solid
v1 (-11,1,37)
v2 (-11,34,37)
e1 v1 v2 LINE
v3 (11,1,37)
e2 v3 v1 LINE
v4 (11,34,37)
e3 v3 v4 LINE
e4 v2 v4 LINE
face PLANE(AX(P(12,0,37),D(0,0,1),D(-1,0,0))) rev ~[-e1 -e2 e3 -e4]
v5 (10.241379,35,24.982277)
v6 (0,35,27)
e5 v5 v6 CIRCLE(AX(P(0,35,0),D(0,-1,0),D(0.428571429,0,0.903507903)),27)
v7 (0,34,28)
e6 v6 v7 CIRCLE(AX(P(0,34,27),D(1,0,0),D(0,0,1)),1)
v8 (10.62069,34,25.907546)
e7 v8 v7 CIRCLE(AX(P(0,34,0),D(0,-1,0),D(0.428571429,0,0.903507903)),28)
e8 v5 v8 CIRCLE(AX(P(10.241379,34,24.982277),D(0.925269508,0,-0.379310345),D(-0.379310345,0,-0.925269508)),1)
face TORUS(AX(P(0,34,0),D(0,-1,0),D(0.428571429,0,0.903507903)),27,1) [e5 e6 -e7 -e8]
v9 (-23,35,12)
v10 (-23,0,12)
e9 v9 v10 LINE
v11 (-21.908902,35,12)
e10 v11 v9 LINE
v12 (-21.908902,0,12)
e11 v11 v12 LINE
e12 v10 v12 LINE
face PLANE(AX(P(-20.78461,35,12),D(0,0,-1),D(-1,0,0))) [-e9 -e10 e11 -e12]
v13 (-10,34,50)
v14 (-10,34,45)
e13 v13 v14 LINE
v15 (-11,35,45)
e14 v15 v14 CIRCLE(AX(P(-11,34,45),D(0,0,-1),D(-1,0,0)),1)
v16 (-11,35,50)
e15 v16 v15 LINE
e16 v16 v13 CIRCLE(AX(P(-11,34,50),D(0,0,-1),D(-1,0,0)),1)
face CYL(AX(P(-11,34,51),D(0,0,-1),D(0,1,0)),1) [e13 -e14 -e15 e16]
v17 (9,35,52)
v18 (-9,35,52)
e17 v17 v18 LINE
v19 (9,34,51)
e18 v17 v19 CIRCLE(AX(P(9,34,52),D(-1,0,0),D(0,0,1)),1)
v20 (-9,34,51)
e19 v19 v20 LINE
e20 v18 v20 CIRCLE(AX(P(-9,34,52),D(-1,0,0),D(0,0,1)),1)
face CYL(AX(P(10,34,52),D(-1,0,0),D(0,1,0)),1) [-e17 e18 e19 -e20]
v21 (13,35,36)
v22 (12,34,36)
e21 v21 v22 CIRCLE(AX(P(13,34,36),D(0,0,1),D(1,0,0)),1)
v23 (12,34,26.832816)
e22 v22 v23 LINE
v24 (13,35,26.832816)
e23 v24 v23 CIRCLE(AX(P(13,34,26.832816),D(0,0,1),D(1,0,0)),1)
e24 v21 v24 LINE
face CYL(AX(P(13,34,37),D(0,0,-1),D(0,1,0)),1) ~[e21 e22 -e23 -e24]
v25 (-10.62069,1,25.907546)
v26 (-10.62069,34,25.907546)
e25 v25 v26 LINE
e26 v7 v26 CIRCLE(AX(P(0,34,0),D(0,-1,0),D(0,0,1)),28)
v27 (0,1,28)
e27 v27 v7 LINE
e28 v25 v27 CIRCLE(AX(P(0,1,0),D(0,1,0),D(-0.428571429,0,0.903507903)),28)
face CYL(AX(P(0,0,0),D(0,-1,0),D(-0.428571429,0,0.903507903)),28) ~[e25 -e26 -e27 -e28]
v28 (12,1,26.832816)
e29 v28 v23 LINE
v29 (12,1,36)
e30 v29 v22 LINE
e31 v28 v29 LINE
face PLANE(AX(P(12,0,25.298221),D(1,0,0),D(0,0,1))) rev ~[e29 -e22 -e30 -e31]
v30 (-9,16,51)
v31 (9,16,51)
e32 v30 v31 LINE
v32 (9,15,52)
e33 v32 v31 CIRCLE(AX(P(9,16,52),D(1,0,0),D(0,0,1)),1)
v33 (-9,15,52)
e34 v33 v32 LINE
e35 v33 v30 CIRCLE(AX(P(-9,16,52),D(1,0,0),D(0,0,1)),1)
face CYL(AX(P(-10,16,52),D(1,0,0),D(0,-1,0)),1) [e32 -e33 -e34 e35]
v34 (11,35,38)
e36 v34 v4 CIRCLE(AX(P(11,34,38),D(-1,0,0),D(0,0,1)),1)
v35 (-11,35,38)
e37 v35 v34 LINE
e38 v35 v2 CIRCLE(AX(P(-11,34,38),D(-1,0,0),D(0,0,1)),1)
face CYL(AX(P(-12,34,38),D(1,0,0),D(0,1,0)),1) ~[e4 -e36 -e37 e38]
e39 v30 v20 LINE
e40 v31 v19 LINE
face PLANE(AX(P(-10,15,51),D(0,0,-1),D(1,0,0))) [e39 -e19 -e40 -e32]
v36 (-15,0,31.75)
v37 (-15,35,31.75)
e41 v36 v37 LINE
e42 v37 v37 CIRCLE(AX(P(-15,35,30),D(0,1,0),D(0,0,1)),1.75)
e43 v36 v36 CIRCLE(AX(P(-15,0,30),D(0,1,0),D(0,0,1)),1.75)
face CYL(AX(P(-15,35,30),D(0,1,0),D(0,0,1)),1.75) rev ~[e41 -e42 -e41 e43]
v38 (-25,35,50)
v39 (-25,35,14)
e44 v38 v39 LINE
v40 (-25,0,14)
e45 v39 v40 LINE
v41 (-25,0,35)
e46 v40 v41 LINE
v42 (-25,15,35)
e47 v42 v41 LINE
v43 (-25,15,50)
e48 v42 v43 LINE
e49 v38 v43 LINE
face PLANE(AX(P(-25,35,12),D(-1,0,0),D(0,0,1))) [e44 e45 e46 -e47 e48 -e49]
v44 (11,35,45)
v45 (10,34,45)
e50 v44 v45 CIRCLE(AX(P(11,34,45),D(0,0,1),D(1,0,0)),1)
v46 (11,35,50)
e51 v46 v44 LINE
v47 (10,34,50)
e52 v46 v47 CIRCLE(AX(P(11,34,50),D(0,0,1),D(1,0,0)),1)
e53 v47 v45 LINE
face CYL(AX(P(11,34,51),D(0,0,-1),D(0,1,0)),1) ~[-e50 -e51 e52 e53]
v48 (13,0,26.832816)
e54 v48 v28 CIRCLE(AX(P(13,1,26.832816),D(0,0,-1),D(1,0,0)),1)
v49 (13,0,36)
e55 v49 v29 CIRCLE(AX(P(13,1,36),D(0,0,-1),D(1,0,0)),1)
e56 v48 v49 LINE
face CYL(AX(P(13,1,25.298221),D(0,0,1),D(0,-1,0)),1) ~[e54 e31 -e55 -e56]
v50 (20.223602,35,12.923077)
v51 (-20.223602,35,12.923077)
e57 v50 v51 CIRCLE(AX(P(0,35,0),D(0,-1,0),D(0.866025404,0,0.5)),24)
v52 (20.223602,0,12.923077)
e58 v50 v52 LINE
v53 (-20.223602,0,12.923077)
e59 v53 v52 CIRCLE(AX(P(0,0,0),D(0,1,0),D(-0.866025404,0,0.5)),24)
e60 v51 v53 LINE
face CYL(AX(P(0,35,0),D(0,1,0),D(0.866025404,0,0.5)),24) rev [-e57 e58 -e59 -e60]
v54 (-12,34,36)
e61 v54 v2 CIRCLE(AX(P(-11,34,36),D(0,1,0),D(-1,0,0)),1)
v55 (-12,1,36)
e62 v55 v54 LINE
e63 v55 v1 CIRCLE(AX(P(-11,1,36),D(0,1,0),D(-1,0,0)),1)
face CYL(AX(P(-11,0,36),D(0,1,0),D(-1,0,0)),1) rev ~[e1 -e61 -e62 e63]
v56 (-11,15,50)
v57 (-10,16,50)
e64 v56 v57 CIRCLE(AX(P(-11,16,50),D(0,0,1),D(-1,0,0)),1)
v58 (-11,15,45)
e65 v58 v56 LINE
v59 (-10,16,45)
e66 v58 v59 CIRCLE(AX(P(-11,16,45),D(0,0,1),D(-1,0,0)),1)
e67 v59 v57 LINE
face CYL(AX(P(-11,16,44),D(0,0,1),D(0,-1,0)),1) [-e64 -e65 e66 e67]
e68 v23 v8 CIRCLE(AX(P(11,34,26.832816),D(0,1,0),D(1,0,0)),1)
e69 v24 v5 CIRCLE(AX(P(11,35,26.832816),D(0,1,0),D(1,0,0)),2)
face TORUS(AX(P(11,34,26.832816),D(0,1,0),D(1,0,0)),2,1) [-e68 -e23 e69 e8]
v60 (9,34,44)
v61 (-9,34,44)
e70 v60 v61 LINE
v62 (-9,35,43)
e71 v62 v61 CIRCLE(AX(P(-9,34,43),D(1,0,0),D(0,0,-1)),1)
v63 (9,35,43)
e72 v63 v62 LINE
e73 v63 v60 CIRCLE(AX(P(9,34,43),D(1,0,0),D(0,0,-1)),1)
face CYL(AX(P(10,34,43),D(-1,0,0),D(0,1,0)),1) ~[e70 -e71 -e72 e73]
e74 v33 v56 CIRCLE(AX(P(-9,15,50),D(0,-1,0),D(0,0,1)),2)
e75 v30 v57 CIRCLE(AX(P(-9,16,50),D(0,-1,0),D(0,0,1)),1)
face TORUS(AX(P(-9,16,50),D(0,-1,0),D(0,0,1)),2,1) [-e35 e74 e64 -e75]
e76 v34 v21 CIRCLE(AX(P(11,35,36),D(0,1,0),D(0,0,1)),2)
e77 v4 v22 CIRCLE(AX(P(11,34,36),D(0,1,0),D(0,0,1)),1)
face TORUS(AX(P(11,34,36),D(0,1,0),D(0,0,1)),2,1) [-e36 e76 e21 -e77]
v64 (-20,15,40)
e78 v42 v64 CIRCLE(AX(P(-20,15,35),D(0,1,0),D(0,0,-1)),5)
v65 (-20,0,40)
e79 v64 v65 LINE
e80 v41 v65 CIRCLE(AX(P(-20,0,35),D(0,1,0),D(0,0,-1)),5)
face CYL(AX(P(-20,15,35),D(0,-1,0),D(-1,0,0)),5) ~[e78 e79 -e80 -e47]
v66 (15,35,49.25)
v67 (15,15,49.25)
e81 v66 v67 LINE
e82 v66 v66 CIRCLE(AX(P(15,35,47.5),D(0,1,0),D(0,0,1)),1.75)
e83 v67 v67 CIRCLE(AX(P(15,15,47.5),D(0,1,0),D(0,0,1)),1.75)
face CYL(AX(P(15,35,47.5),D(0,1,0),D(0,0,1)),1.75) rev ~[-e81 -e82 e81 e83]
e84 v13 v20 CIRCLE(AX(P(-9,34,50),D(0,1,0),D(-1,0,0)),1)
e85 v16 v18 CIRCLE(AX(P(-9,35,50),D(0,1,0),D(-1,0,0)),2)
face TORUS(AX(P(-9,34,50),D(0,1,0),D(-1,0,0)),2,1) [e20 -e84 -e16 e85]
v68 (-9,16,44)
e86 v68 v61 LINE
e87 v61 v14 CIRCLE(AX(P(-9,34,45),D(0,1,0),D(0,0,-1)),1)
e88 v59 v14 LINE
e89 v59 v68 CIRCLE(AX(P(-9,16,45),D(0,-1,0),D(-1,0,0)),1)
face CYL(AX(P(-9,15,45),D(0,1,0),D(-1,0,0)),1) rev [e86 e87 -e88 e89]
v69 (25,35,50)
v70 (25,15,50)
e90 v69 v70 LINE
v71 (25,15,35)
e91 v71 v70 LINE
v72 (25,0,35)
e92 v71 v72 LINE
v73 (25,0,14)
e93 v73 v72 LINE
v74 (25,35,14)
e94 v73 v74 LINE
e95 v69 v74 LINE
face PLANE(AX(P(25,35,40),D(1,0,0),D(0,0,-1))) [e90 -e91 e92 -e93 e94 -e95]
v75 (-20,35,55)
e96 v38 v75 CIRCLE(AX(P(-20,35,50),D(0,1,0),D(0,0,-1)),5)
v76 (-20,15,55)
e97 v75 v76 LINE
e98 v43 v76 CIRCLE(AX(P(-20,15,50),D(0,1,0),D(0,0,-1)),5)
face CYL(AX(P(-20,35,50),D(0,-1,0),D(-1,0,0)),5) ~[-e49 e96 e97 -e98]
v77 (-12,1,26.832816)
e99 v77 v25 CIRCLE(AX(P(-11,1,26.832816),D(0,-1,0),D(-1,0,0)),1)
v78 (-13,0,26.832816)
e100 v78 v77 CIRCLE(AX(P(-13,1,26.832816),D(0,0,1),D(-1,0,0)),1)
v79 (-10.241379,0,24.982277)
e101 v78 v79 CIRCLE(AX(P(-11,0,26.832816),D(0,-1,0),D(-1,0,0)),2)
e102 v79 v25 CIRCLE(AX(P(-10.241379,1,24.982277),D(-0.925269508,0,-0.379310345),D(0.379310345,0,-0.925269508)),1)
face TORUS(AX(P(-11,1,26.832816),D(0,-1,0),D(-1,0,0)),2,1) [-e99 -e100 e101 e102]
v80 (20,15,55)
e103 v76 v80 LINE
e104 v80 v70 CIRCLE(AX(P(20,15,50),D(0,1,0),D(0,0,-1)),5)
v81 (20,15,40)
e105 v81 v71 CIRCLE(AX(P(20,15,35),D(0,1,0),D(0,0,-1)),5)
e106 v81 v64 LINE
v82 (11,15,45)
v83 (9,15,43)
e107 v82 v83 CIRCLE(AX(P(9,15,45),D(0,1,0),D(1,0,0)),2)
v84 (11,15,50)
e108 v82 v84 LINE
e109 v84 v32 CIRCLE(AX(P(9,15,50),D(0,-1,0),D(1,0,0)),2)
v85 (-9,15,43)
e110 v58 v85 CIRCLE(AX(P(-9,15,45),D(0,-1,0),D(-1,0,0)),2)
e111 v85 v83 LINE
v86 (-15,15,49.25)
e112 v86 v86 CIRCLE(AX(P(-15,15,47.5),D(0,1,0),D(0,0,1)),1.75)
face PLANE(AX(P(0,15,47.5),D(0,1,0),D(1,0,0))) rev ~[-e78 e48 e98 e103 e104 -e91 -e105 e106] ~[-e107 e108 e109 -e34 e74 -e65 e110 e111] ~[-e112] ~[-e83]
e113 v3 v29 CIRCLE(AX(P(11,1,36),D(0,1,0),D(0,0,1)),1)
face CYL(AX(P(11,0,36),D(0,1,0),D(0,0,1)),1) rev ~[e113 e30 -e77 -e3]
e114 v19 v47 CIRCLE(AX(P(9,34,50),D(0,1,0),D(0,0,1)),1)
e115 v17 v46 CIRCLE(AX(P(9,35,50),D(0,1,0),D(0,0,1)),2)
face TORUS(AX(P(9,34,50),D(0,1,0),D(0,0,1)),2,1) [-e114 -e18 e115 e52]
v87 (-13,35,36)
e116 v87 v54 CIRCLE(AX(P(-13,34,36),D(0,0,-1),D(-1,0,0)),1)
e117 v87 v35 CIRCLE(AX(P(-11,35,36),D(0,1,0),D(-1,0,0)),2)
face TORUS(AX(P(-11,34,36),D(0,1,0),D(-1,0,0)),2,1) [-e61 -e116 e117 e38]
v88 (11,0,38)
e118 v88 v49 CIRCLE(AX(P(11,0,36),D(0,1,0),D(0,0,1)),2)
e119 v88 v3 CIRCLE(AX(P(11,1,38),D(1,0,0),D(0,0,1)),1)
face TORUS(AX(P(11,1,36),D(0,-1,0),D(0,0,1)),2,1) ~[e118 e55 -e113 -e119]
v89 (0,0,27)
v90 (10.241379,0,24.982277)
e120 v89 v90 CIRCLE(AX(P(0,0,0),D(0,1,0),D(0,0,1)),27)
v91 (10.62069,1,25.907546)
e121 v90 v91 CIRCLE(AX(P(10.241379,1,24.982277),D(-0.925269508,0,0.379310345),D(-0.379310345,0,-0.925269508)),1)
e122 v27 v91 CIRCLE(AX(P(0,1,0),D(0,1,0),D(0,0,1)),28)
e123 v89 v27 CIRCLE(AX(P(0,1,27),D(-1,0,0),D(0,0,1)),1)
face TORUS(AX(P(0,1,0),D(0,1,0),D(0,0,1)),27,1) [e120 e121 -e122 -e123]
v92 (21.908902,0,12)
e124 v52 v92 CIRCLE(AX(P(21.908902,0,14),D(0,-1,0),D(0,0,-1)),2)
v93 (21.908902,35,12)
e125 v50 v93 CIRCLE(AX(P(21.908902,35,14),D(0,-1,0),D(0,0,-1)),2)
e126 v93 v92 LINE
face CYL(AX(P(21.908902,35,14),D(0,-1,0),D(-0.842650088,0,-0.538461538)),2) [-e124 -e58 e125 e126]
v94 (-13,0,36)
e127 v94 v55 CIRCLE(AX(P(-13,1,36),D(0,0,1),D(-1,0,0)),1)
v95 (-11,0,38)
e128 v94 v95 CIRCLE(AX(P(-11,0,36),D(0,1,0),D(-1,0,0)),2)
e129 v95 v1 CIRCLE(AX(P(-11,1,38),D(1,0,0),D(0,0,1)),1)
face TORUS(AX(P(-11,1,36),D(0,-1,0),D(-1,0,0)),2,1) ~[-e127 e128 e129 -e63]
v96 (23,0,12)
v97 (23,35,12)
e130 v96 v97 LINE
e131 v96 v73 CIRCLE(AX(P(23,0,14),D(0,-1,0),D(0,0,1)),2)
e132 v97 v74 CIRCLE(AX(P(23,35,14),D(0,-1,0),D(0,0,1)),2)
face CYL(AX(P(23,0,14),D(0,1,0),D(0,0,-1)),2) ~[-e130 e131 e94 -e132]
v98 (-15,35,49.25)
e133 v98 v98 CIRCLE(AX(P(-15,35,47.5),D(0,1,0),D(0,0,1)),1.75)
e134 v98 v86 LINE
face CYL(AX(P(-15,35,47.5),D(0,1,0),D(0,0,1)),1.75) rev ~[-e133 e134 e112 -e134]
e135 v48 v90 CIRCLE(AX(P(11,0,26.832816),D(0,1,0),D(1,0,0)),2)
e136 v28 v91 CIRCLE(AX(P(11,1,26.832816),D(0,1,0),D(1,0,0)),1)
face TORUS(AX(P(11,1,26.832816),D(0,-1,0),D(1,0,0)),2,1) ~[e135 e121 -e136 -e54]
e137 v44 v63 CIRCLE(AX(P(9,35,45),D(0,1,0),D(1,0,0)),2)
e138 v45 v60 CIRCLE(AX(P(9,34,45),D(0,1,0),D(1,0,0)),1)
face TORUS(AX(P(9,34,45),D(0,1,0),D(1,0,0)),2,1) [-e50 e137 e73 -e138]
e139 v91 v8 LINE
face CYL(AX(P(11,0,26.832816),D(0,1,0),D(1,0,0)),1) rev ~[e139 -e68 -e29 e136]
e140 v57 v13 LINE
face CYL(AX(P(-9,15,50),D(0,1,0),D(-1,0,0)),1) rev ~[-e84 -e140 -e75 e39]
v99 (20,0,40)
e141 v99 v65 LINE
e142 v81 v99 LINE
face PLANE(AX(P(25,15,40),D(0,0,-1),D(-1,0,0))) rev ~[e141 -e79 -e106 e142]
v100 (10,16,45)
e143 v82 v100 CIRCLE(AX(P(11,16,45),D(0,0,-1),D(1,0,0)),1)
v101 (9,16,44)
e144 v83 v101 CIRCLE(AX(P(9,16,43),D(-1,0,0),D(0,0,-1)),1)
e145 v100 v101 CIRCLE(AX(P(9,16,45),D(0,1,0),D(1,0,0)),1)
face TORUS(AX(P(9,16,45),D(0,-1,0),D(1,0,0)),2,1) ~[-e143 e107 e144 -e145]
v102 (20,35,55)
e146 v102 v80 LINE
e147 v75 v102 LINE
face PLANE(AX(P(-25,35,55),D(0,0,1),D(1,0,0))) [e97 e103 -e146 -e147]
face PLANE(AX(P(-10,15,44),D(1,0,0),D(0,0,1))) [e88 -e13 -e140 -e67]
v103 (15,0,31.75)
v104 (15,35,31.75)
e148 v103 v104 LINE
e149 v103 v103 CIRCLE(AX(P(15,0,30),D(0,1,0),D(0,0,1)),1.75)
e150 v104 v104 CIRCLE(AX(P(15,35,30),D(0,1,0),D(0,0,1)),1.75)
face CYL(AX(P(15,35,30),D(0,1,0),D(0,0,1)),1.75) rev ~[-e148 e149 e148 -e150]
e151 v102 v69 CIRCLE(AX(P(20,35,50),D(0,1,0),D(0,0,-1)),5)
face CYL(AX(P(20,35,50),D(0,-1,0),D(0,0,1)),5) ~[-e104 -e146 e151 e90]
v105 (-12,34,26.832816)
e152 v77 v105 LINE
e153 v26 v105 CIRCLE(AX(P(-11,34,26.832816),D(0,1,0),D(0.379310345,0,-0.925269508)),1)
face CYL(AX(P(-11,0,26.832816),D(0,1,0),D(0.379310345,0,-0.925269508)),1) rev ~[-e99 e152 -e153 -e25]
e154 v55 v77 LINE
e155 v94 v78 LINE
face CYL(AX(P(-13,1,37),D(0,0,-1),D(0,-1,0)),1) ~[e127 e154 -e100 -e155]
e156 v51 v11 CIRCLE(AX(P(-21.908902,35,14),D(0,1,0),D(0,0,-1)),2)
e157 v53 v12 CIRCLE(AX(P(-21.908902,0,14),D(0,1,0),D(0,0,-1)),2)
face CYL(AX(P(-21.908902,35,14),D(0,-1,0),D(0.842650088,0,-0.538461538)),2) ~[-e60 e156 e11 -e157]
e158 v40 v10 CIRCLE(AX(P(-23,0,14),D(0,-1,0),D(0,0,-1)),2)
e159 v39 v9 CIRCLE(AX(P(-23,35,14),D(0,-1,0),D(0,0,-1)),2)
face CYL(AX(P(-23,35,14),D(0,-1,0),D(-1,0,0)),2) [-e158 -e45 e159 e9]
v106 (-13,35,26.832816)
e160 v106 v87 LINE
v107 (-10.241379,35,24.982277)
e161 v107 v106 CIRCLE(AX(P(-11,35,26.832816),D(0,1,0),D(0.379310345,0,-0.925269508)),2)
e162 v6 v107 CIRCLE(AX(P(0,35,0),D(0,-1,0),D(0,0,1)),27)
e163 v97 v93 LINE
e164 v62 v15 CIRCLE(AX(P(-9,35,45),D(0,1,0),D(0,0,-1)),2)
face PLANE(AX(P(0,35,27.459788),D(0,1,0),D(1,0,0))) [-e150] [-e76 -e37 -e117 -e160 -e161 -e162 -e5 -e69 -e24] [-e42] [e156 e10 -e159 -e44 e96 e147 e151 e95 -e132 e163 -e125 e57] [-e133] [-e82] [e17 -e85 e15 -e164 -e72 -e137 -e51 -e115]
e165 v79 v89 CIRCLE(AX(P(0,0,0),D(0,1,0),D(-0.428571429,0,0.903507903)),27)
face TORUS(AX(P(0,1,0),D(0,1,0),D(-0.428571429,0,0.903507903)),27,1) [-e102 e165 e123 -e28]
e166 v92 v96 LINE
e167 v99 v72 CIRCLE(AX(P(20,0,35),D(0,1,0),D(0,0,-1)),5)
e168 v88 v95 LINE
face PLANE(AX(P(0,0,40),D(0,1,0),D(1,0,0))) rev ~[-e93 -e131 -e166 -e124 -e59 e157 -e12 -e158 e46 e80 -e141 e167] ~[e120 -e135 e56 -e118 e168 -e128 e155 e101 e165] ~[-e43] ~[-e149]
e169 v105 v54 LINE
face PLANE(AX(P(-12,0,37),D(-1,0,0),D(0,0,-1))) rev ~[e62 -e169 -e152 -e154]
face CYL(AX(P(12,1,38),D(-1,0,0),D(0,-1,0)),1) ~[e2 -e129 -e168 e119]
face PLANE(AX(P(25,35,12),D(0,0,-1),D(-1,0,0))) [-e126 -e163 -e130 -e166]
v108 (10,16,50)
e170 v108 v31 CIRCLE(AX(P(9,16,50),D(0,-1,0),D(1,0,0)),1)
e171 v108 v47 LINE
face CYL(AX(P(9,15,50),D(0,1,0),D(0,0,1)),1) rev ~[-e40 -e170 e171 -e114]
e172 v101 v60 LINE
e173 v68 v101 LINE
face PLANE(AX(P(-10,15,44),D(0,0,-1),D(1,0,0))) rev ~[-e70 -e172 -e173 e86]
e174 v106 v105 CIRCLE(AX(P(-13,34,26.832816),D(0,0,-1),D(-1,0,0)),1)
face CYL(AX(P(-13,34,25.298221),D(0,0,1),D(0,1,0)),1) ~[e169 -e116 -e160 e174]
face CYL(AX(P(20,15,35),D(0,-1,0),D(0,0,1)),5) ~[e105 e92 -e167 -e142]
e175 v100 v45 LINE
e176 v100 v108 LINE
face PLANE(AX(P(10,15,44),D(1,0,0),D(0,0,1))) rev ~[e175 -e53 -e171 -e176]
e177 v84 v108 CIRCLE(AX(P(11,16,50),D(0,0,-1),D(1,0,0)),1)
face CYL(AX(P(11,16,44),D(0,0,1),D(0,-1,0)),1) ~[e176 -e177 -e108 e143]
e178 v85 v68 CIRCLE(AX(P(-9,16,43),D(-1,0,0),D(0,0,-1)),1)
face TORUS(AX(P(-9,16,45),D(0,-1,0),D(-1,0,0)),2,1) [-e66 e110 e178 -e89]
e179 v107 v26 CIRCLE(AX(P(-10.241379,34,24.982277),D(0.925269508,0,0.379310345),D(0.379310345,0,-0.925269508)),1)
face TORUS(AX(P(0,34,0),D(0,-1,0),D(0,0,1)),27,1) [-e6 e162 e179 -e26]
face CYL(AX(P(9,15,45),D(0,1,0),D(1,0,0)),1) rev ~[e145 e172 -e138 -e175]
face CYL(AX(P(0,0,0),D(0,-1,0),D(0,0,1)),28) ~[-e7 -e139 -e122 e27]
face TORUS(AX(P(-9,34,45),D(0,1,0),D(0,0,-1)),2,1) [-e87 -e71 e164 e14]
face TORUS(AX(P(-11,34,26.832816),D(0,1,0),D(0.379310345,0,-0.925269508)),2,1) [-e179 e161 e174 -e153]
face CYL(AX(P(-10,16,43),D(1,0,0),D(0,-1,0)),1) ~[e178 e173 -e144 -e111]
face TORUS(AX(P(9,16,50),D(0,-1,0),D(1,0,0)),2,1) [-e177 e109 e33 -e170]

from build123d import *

# Parameters (mm, degrees)
SKETCH_1_W          = 50
SKETCH_1_H          = 50
SKETCH_1_R          = 21.05
EXTRUDE_1_DEPTH     = 15
SKETCH_2_W          = 50
SKETCH_2_H          = 30
SKETCH_2_R          = 1.6
EXTRUDE_2_DEPTH     = 15
FILLET_1_R          = 3
SKETCH_3_R          = 1.75
CUT_EXTRUDE_1_DEPTH = 63.24949799
SKETCH_4_R          = 1.6
CUT_EXTRUDE_2_DEPTH = 63.24949799
EXTRUDE_START       = 20
SKETCH_5_R          = 1.75
SKETCH_5_W          = 50
SKETCH_5_H          = 15
EXTRUDE_3_DEPTH     = 20
FILLET_2_R          = 2
FILLET_3_R          = 5
SKETCH_6_W          = 20
SKETCH_6_H          = 7
CUT_EXTRUDE_3_DEPTH = 64.639610307
CUT_EXTRUDE_4_DEPTH = 70.821200219
FILLET_4_R          = 1


with BuildPart() as part:
    # 草图1 → 凸台-拉伸1 (new body)
    with BuildSketch(Plane(origin=(0, 0, 0), x_dir=(1, 0, 0), z_dir=(0, 1, 0))):
        Rectangle(SKETCH_1_W, SKETCH_1_H)
        with Locations(Location((0, 0, 0), (0, 0, 270))):
            Circle(SKETCH_1_R, mode=Mode.SUBTRACT)
    extrude(amount=EXTRUDE_1_DEPTH)

    # 草图2 → 凸台-拉伸2 (add)
    with BuildSketch(Plane(origin=(0, 15, 0), x_dir=(1, 0, 0), z_dir=(0, 1, 0))):
        with Locations((0, -40)):
            Rectangle(SKETCH_2_W, SKETCH_2_H)
        with Locations(Location((-15, -47.5, 0), (0, 0, 270))):
            Circle(SKETCH_2_R, mode=Mode.SUBTRACT)
        with Locations(Location((15, -47.5, 0), (0, 0, 270))):
            Circle(SKETCH_2_R, mode=Mode.SUBTRACT)
    extrude(amount=-EXTRUDE_2_DEPTH)

    # 圆角1
    fillet_1_edges = [part.edges().sort_by_distance(p)[0] for p in [
        (25, 7.5, 55),
        (-25, 7.5, 55),
        (-25, 7.5, -25),
        (25, 7.5, -25),
    ]]
    fillet(fillet_1_edges, radius=FILLET_1_R)

    # 草图3 → 切除-拉伸1 (cut, through all)
    with BuildSketch(Plane(origin=(0, 15, 0), x_dir=(1, 0, 0), z_dir=(0, 1, 0))):
        with Locations(Location((-15, -30, 0), (0, 0, 270))):
            Circle(SKETCH_3_R)
        with Locations(Location((15, -30, 0), (0, 0, 270))):
            Circle(SKETCH_3_R)
    extrude(amount=-CUT_EXTRUDE_1_DEPTH, mode=Mode.SUBTRACT)

    # 草图4 → 切除-拉伸2 (cut, through all)
    # profile 1 of 6: a face of its own
    with BuildSketch(Plane(origin=(0, 15, 0), x_dir=(1, 0, 0), z_dir=(0, 1, 0))):
        with BuildLine():
            Line((25, -40), (-25, -40))
            Line((-25, -40), (-25, -52))
            ThreePointArc((-25, -52), (-24.121320344, -54.121320344), (-22, -55))
            Line((-22, -55), (22, -55))
            ThreePointArc((22, -55), (24.121320344, -54.121320344), (25, -52))
            Line((25, -52), (25, -40))
        make_face()
        with Locations((-15, -47.5)):
            Circle(SKETCH_4_R, mode=Mode.SUBTRACT)
        with Locations((15, -47.5)):
            Circle(SKETCH_4_R, mode=Mode.SUBTRACT)
    # profile 2 of 6: a face of its own
    with BuildSketch(Plane(origin=(0, 15, 0), x_dir=(1, 0, 0), z_dir=(0, 1, 0))):
        with BuildLine():
            Line((-25, 22), (-25, -12))
            Line((-25, -12), (-20.784609691, -12))
            ThreePointArc((-20.784609691, -12), (-6.211657082, 23.182219831), (24, 0))
            ThreePointArc((24, 0), (23.182219831, -6.211657082), (20.784609691, -12))
            Line((20.784609691, -12), (25, -12))
            Line((25, -12), (25, 22))
            ThreePointArc((25, 22), (24.121320344, 24.121320344), (22, 25))
            Line((22, 25), (-22, 25))
            ThreePointArc((-22, 25), (-24.121320344, 24.121320344), (-25, 22))
        make_face()
    # profile 3 of 6: a face of its own
    with BuildSketch(Plane(origin=(0, 15, 0), x_dir=(1, 0, 0), z_dir=(0, 1, 0))):
        with BuildLine():
            ThreePointArc((24, 0), (-6.211657082, 23.182219831), (-20.784609691, -12))
            Line((-20.784609691, -12), (-17.294580076, -12))
            ThreePointArc((-17.294580076, -12), (-6.286954326, 20.089218633), (21.05, 0))
            ThreePointArc((21.05, 0), (20.089218633, -6.286954326), (17.294580076, -12))
            Line((17.294580076, -12), (20.784609691, -12))
            ThreePointArc((20.784609691, -12), (23.182219831, -6.211657082), (24, 0))
        make_face()
    # profile 4 of 6: a face of its own
    with BuildSketch(Plane(origin=(0, 15, 0), x_dir=(1, 0, 0), z_dir=(0, 1, 0))):
        with BuildLine():
            Line((-17.294580076, -12), (-20.784609691, -12))
            ThreePointArc((-20.784609691, -12), (0, -24), (20.784609691, -12))
            Line((20.784609691, -12), (17.294580076, -12))
            ThreePointArc((17.294580076, -12), (0, -21.05), (-17.294580076, -12))
        make_face()
    # profile 5 of 6: a face of its own
    with BuildSketch(Plane(origin=(0, 15, 0), x_dir=(1, 0, 0), z_dir=(0, 1, 0))):
        with BuildLine():
            ThreePointArc((24, 0), (-6.211657082, 23.182219831), (-20.784609691, -12))
            Line((-20.784609691, -12), (-17.294580076, -12))
            ThreePointArc((-17.294580076, -12), (-6.286954326, 20.089218633), (21.05, 0))
            ThreePointArc((21.05, 0), (20.089218633, -6.286954326), (17.294580076, -12))
            Line((17.294580076, -12), (20.784609691, -12))
            ThreePointArc((20.784609691, -12), (23.182219831, -6.211657082), (24, 0))
        make_face()
    # profile 6 of 6: a face of its own
    with BuildSketch(Plane(origin=(0, 15, 0), x_dir=(1, 0, 0), z_dir=(0, 1, 0))):
        with BuildLine():
            Line((-17.294580076, -12), (-20.784609691, -12))
            ThreePointArc((-20.784609691, -12), (0, -24), (20.784609691, -12))
            Line((20.784609691, -12), (17.294580076, -12))
            ThreePointArc((17.294580076, -12), (0, -21.05), (-17.294580076, -12))
        make_face()
    extrude(amount=-CUT_EXTRUDE_2_DEPTH, mode=Mode.SUBTRACT)

    # 草图5 → 凸台-拉伸3 (add)
    # profile 1 of 2: a face of its own
    with BuildSketch(Plane(origin=(0, 15, 0), x_dir=(1, 0, 0), z_dir=(0, 1, 0)).offset(EXTRUDE_START)):
        with BuildLine():
            Line((-25, -12), (-25, -40))
            Line((-25, -40), (25, -40))
            Line((25, -40), (25, -12))
            Line((25, -12), (20.784609691, -12))
            ThreePointArc((20.784609691, -12), (0, -24), (-20.784609691, -12))
            Line((-20.784609691, -12), (-25, -12))
        make_face()
        with Locations(Location((-15, -30, 0), (0, 0, 270))):
            Circle(SKETCH_5_R, mode=Mode.SUBTRACT)
        with Locations(Location((15, -30, 0), (0, 0, 270))):
            Circle(SKETCH_5_R, mode=Mode.SUBTRACT)
    # profile 2 of 2: a face of its own
    with BuildSketch(Plane(origin=(0, 15, 0), x_dir=(1, 0, 0), z_dir=(0, 1, 0)).offset(EXTRUDE_START)):
        with Locations((0, -47.5)):
            Rectangle(SKETCH_5_W, SKETCH_5_H)
        with Locations(Location((15, -47.5, 0), (0, 0, 270))):
            Circle(SKETCH_5_R, mode=Mode.SUBTRACT)
        with Locations(Location((-15, -47.5, 0), (0, 0, 270))):
            Circle(SKETCH_5_R, mode=Mode.SUBTRACT)
    extrude(amount=-EXTRUDE_3_DEPTH)

    # 圆角2
    fillet_2_edges = [part.edges().sort_by_distance(p)[0] for p in [
        (20.784609691, 17.5, 12),
        (-20.784609691, 17.5, 12),
        (-25, 17.5, 12),
        (25, 17.5, 12),
    ]]
    fillet(fillet_2_edges, radius=FILLET_2_R)

    # 圆角3
    fillet_3_edges = [part.edges().sort_by_distance(p)[0] for p in [
        (-25, 25, 55),
        (25, 25, 55),
        (-25, 7.5, 40),
        (25, 7.5, 40),
    ]]
    fillet(fillet_3_edges, radius=FILLET_3_R)

    # 草图6 → 切除-拉伸3 (cut, through all)
    with BuildSketch(Plane.XZ.offset(-15)):
        with Locations((0, 47.5)):
            Rectangle(SKETCH_6_W, SKETCH_6_H)
    extrude(amount=-CUT_EXTRUDE_3_DEPTH, mode=Mode.SUBTRACT)

    # 草图7 → 切除-拉伸4 (cut, through all)
    with BuildSketch(Plane.XZ):
        with BuildLine():
            Line((0, 37), (0, 28))
            ThreePointArc((0, 28), (6.150195286, 27.316205775), (12, 25.298221281))
            Line((12, 25.298221281), (12, 37))
            Line((12, 37), (0, 37))
        make_face()
        with BuildLine():
            ThreePointArc((-12, 25.298221281), (-6.150195286, 27.316205775), (0, 28))
            Line((0, 28), (0, 37))
            Line((0, 37), (-12, 37))
            Line((-12, 37), (-12, 25.298221281))
        make_face()
    extrude(amount=-CUT_EXTRUDE_4_DEPTH, mode=Mode.SUBTRACT)

    # 圆角4
    fillet_4_edges = [part.edges().sort_by_distance(p)[0] for p in [
        (10, 35, 47.5),
        (10, 25, 51),
        (0, 35, 44),
        (10, 25, 44),
        (-10, 35, 47.5),
        (-10, 25, 44),
        (0, 35, 51),
        (-10, 25, 51),
        (10, 15, 47.5),
        (0, 15, 51),
        (-10, 15, 47.5),
        (0, 15, 44),
        (0, 0, 37),
        (-12, 17.5, 37),
        (12, 0, 31.149110641),
        (12, 17.5, 37),
        (0, 0, 28),
        (12, 17.5, 25.298221281),
        (-12, 35, 31.149110641),
        (-12, 17.5, 25.298221281),
        (0, 35, 37),
        (12, 35, 31.149110641),
        (0, 35, 28),
        (-12, 0, 31.149110641),
    ]]
    fillet(fillet_4_edges, radius=FILLET_4_R)


solid = part.part
